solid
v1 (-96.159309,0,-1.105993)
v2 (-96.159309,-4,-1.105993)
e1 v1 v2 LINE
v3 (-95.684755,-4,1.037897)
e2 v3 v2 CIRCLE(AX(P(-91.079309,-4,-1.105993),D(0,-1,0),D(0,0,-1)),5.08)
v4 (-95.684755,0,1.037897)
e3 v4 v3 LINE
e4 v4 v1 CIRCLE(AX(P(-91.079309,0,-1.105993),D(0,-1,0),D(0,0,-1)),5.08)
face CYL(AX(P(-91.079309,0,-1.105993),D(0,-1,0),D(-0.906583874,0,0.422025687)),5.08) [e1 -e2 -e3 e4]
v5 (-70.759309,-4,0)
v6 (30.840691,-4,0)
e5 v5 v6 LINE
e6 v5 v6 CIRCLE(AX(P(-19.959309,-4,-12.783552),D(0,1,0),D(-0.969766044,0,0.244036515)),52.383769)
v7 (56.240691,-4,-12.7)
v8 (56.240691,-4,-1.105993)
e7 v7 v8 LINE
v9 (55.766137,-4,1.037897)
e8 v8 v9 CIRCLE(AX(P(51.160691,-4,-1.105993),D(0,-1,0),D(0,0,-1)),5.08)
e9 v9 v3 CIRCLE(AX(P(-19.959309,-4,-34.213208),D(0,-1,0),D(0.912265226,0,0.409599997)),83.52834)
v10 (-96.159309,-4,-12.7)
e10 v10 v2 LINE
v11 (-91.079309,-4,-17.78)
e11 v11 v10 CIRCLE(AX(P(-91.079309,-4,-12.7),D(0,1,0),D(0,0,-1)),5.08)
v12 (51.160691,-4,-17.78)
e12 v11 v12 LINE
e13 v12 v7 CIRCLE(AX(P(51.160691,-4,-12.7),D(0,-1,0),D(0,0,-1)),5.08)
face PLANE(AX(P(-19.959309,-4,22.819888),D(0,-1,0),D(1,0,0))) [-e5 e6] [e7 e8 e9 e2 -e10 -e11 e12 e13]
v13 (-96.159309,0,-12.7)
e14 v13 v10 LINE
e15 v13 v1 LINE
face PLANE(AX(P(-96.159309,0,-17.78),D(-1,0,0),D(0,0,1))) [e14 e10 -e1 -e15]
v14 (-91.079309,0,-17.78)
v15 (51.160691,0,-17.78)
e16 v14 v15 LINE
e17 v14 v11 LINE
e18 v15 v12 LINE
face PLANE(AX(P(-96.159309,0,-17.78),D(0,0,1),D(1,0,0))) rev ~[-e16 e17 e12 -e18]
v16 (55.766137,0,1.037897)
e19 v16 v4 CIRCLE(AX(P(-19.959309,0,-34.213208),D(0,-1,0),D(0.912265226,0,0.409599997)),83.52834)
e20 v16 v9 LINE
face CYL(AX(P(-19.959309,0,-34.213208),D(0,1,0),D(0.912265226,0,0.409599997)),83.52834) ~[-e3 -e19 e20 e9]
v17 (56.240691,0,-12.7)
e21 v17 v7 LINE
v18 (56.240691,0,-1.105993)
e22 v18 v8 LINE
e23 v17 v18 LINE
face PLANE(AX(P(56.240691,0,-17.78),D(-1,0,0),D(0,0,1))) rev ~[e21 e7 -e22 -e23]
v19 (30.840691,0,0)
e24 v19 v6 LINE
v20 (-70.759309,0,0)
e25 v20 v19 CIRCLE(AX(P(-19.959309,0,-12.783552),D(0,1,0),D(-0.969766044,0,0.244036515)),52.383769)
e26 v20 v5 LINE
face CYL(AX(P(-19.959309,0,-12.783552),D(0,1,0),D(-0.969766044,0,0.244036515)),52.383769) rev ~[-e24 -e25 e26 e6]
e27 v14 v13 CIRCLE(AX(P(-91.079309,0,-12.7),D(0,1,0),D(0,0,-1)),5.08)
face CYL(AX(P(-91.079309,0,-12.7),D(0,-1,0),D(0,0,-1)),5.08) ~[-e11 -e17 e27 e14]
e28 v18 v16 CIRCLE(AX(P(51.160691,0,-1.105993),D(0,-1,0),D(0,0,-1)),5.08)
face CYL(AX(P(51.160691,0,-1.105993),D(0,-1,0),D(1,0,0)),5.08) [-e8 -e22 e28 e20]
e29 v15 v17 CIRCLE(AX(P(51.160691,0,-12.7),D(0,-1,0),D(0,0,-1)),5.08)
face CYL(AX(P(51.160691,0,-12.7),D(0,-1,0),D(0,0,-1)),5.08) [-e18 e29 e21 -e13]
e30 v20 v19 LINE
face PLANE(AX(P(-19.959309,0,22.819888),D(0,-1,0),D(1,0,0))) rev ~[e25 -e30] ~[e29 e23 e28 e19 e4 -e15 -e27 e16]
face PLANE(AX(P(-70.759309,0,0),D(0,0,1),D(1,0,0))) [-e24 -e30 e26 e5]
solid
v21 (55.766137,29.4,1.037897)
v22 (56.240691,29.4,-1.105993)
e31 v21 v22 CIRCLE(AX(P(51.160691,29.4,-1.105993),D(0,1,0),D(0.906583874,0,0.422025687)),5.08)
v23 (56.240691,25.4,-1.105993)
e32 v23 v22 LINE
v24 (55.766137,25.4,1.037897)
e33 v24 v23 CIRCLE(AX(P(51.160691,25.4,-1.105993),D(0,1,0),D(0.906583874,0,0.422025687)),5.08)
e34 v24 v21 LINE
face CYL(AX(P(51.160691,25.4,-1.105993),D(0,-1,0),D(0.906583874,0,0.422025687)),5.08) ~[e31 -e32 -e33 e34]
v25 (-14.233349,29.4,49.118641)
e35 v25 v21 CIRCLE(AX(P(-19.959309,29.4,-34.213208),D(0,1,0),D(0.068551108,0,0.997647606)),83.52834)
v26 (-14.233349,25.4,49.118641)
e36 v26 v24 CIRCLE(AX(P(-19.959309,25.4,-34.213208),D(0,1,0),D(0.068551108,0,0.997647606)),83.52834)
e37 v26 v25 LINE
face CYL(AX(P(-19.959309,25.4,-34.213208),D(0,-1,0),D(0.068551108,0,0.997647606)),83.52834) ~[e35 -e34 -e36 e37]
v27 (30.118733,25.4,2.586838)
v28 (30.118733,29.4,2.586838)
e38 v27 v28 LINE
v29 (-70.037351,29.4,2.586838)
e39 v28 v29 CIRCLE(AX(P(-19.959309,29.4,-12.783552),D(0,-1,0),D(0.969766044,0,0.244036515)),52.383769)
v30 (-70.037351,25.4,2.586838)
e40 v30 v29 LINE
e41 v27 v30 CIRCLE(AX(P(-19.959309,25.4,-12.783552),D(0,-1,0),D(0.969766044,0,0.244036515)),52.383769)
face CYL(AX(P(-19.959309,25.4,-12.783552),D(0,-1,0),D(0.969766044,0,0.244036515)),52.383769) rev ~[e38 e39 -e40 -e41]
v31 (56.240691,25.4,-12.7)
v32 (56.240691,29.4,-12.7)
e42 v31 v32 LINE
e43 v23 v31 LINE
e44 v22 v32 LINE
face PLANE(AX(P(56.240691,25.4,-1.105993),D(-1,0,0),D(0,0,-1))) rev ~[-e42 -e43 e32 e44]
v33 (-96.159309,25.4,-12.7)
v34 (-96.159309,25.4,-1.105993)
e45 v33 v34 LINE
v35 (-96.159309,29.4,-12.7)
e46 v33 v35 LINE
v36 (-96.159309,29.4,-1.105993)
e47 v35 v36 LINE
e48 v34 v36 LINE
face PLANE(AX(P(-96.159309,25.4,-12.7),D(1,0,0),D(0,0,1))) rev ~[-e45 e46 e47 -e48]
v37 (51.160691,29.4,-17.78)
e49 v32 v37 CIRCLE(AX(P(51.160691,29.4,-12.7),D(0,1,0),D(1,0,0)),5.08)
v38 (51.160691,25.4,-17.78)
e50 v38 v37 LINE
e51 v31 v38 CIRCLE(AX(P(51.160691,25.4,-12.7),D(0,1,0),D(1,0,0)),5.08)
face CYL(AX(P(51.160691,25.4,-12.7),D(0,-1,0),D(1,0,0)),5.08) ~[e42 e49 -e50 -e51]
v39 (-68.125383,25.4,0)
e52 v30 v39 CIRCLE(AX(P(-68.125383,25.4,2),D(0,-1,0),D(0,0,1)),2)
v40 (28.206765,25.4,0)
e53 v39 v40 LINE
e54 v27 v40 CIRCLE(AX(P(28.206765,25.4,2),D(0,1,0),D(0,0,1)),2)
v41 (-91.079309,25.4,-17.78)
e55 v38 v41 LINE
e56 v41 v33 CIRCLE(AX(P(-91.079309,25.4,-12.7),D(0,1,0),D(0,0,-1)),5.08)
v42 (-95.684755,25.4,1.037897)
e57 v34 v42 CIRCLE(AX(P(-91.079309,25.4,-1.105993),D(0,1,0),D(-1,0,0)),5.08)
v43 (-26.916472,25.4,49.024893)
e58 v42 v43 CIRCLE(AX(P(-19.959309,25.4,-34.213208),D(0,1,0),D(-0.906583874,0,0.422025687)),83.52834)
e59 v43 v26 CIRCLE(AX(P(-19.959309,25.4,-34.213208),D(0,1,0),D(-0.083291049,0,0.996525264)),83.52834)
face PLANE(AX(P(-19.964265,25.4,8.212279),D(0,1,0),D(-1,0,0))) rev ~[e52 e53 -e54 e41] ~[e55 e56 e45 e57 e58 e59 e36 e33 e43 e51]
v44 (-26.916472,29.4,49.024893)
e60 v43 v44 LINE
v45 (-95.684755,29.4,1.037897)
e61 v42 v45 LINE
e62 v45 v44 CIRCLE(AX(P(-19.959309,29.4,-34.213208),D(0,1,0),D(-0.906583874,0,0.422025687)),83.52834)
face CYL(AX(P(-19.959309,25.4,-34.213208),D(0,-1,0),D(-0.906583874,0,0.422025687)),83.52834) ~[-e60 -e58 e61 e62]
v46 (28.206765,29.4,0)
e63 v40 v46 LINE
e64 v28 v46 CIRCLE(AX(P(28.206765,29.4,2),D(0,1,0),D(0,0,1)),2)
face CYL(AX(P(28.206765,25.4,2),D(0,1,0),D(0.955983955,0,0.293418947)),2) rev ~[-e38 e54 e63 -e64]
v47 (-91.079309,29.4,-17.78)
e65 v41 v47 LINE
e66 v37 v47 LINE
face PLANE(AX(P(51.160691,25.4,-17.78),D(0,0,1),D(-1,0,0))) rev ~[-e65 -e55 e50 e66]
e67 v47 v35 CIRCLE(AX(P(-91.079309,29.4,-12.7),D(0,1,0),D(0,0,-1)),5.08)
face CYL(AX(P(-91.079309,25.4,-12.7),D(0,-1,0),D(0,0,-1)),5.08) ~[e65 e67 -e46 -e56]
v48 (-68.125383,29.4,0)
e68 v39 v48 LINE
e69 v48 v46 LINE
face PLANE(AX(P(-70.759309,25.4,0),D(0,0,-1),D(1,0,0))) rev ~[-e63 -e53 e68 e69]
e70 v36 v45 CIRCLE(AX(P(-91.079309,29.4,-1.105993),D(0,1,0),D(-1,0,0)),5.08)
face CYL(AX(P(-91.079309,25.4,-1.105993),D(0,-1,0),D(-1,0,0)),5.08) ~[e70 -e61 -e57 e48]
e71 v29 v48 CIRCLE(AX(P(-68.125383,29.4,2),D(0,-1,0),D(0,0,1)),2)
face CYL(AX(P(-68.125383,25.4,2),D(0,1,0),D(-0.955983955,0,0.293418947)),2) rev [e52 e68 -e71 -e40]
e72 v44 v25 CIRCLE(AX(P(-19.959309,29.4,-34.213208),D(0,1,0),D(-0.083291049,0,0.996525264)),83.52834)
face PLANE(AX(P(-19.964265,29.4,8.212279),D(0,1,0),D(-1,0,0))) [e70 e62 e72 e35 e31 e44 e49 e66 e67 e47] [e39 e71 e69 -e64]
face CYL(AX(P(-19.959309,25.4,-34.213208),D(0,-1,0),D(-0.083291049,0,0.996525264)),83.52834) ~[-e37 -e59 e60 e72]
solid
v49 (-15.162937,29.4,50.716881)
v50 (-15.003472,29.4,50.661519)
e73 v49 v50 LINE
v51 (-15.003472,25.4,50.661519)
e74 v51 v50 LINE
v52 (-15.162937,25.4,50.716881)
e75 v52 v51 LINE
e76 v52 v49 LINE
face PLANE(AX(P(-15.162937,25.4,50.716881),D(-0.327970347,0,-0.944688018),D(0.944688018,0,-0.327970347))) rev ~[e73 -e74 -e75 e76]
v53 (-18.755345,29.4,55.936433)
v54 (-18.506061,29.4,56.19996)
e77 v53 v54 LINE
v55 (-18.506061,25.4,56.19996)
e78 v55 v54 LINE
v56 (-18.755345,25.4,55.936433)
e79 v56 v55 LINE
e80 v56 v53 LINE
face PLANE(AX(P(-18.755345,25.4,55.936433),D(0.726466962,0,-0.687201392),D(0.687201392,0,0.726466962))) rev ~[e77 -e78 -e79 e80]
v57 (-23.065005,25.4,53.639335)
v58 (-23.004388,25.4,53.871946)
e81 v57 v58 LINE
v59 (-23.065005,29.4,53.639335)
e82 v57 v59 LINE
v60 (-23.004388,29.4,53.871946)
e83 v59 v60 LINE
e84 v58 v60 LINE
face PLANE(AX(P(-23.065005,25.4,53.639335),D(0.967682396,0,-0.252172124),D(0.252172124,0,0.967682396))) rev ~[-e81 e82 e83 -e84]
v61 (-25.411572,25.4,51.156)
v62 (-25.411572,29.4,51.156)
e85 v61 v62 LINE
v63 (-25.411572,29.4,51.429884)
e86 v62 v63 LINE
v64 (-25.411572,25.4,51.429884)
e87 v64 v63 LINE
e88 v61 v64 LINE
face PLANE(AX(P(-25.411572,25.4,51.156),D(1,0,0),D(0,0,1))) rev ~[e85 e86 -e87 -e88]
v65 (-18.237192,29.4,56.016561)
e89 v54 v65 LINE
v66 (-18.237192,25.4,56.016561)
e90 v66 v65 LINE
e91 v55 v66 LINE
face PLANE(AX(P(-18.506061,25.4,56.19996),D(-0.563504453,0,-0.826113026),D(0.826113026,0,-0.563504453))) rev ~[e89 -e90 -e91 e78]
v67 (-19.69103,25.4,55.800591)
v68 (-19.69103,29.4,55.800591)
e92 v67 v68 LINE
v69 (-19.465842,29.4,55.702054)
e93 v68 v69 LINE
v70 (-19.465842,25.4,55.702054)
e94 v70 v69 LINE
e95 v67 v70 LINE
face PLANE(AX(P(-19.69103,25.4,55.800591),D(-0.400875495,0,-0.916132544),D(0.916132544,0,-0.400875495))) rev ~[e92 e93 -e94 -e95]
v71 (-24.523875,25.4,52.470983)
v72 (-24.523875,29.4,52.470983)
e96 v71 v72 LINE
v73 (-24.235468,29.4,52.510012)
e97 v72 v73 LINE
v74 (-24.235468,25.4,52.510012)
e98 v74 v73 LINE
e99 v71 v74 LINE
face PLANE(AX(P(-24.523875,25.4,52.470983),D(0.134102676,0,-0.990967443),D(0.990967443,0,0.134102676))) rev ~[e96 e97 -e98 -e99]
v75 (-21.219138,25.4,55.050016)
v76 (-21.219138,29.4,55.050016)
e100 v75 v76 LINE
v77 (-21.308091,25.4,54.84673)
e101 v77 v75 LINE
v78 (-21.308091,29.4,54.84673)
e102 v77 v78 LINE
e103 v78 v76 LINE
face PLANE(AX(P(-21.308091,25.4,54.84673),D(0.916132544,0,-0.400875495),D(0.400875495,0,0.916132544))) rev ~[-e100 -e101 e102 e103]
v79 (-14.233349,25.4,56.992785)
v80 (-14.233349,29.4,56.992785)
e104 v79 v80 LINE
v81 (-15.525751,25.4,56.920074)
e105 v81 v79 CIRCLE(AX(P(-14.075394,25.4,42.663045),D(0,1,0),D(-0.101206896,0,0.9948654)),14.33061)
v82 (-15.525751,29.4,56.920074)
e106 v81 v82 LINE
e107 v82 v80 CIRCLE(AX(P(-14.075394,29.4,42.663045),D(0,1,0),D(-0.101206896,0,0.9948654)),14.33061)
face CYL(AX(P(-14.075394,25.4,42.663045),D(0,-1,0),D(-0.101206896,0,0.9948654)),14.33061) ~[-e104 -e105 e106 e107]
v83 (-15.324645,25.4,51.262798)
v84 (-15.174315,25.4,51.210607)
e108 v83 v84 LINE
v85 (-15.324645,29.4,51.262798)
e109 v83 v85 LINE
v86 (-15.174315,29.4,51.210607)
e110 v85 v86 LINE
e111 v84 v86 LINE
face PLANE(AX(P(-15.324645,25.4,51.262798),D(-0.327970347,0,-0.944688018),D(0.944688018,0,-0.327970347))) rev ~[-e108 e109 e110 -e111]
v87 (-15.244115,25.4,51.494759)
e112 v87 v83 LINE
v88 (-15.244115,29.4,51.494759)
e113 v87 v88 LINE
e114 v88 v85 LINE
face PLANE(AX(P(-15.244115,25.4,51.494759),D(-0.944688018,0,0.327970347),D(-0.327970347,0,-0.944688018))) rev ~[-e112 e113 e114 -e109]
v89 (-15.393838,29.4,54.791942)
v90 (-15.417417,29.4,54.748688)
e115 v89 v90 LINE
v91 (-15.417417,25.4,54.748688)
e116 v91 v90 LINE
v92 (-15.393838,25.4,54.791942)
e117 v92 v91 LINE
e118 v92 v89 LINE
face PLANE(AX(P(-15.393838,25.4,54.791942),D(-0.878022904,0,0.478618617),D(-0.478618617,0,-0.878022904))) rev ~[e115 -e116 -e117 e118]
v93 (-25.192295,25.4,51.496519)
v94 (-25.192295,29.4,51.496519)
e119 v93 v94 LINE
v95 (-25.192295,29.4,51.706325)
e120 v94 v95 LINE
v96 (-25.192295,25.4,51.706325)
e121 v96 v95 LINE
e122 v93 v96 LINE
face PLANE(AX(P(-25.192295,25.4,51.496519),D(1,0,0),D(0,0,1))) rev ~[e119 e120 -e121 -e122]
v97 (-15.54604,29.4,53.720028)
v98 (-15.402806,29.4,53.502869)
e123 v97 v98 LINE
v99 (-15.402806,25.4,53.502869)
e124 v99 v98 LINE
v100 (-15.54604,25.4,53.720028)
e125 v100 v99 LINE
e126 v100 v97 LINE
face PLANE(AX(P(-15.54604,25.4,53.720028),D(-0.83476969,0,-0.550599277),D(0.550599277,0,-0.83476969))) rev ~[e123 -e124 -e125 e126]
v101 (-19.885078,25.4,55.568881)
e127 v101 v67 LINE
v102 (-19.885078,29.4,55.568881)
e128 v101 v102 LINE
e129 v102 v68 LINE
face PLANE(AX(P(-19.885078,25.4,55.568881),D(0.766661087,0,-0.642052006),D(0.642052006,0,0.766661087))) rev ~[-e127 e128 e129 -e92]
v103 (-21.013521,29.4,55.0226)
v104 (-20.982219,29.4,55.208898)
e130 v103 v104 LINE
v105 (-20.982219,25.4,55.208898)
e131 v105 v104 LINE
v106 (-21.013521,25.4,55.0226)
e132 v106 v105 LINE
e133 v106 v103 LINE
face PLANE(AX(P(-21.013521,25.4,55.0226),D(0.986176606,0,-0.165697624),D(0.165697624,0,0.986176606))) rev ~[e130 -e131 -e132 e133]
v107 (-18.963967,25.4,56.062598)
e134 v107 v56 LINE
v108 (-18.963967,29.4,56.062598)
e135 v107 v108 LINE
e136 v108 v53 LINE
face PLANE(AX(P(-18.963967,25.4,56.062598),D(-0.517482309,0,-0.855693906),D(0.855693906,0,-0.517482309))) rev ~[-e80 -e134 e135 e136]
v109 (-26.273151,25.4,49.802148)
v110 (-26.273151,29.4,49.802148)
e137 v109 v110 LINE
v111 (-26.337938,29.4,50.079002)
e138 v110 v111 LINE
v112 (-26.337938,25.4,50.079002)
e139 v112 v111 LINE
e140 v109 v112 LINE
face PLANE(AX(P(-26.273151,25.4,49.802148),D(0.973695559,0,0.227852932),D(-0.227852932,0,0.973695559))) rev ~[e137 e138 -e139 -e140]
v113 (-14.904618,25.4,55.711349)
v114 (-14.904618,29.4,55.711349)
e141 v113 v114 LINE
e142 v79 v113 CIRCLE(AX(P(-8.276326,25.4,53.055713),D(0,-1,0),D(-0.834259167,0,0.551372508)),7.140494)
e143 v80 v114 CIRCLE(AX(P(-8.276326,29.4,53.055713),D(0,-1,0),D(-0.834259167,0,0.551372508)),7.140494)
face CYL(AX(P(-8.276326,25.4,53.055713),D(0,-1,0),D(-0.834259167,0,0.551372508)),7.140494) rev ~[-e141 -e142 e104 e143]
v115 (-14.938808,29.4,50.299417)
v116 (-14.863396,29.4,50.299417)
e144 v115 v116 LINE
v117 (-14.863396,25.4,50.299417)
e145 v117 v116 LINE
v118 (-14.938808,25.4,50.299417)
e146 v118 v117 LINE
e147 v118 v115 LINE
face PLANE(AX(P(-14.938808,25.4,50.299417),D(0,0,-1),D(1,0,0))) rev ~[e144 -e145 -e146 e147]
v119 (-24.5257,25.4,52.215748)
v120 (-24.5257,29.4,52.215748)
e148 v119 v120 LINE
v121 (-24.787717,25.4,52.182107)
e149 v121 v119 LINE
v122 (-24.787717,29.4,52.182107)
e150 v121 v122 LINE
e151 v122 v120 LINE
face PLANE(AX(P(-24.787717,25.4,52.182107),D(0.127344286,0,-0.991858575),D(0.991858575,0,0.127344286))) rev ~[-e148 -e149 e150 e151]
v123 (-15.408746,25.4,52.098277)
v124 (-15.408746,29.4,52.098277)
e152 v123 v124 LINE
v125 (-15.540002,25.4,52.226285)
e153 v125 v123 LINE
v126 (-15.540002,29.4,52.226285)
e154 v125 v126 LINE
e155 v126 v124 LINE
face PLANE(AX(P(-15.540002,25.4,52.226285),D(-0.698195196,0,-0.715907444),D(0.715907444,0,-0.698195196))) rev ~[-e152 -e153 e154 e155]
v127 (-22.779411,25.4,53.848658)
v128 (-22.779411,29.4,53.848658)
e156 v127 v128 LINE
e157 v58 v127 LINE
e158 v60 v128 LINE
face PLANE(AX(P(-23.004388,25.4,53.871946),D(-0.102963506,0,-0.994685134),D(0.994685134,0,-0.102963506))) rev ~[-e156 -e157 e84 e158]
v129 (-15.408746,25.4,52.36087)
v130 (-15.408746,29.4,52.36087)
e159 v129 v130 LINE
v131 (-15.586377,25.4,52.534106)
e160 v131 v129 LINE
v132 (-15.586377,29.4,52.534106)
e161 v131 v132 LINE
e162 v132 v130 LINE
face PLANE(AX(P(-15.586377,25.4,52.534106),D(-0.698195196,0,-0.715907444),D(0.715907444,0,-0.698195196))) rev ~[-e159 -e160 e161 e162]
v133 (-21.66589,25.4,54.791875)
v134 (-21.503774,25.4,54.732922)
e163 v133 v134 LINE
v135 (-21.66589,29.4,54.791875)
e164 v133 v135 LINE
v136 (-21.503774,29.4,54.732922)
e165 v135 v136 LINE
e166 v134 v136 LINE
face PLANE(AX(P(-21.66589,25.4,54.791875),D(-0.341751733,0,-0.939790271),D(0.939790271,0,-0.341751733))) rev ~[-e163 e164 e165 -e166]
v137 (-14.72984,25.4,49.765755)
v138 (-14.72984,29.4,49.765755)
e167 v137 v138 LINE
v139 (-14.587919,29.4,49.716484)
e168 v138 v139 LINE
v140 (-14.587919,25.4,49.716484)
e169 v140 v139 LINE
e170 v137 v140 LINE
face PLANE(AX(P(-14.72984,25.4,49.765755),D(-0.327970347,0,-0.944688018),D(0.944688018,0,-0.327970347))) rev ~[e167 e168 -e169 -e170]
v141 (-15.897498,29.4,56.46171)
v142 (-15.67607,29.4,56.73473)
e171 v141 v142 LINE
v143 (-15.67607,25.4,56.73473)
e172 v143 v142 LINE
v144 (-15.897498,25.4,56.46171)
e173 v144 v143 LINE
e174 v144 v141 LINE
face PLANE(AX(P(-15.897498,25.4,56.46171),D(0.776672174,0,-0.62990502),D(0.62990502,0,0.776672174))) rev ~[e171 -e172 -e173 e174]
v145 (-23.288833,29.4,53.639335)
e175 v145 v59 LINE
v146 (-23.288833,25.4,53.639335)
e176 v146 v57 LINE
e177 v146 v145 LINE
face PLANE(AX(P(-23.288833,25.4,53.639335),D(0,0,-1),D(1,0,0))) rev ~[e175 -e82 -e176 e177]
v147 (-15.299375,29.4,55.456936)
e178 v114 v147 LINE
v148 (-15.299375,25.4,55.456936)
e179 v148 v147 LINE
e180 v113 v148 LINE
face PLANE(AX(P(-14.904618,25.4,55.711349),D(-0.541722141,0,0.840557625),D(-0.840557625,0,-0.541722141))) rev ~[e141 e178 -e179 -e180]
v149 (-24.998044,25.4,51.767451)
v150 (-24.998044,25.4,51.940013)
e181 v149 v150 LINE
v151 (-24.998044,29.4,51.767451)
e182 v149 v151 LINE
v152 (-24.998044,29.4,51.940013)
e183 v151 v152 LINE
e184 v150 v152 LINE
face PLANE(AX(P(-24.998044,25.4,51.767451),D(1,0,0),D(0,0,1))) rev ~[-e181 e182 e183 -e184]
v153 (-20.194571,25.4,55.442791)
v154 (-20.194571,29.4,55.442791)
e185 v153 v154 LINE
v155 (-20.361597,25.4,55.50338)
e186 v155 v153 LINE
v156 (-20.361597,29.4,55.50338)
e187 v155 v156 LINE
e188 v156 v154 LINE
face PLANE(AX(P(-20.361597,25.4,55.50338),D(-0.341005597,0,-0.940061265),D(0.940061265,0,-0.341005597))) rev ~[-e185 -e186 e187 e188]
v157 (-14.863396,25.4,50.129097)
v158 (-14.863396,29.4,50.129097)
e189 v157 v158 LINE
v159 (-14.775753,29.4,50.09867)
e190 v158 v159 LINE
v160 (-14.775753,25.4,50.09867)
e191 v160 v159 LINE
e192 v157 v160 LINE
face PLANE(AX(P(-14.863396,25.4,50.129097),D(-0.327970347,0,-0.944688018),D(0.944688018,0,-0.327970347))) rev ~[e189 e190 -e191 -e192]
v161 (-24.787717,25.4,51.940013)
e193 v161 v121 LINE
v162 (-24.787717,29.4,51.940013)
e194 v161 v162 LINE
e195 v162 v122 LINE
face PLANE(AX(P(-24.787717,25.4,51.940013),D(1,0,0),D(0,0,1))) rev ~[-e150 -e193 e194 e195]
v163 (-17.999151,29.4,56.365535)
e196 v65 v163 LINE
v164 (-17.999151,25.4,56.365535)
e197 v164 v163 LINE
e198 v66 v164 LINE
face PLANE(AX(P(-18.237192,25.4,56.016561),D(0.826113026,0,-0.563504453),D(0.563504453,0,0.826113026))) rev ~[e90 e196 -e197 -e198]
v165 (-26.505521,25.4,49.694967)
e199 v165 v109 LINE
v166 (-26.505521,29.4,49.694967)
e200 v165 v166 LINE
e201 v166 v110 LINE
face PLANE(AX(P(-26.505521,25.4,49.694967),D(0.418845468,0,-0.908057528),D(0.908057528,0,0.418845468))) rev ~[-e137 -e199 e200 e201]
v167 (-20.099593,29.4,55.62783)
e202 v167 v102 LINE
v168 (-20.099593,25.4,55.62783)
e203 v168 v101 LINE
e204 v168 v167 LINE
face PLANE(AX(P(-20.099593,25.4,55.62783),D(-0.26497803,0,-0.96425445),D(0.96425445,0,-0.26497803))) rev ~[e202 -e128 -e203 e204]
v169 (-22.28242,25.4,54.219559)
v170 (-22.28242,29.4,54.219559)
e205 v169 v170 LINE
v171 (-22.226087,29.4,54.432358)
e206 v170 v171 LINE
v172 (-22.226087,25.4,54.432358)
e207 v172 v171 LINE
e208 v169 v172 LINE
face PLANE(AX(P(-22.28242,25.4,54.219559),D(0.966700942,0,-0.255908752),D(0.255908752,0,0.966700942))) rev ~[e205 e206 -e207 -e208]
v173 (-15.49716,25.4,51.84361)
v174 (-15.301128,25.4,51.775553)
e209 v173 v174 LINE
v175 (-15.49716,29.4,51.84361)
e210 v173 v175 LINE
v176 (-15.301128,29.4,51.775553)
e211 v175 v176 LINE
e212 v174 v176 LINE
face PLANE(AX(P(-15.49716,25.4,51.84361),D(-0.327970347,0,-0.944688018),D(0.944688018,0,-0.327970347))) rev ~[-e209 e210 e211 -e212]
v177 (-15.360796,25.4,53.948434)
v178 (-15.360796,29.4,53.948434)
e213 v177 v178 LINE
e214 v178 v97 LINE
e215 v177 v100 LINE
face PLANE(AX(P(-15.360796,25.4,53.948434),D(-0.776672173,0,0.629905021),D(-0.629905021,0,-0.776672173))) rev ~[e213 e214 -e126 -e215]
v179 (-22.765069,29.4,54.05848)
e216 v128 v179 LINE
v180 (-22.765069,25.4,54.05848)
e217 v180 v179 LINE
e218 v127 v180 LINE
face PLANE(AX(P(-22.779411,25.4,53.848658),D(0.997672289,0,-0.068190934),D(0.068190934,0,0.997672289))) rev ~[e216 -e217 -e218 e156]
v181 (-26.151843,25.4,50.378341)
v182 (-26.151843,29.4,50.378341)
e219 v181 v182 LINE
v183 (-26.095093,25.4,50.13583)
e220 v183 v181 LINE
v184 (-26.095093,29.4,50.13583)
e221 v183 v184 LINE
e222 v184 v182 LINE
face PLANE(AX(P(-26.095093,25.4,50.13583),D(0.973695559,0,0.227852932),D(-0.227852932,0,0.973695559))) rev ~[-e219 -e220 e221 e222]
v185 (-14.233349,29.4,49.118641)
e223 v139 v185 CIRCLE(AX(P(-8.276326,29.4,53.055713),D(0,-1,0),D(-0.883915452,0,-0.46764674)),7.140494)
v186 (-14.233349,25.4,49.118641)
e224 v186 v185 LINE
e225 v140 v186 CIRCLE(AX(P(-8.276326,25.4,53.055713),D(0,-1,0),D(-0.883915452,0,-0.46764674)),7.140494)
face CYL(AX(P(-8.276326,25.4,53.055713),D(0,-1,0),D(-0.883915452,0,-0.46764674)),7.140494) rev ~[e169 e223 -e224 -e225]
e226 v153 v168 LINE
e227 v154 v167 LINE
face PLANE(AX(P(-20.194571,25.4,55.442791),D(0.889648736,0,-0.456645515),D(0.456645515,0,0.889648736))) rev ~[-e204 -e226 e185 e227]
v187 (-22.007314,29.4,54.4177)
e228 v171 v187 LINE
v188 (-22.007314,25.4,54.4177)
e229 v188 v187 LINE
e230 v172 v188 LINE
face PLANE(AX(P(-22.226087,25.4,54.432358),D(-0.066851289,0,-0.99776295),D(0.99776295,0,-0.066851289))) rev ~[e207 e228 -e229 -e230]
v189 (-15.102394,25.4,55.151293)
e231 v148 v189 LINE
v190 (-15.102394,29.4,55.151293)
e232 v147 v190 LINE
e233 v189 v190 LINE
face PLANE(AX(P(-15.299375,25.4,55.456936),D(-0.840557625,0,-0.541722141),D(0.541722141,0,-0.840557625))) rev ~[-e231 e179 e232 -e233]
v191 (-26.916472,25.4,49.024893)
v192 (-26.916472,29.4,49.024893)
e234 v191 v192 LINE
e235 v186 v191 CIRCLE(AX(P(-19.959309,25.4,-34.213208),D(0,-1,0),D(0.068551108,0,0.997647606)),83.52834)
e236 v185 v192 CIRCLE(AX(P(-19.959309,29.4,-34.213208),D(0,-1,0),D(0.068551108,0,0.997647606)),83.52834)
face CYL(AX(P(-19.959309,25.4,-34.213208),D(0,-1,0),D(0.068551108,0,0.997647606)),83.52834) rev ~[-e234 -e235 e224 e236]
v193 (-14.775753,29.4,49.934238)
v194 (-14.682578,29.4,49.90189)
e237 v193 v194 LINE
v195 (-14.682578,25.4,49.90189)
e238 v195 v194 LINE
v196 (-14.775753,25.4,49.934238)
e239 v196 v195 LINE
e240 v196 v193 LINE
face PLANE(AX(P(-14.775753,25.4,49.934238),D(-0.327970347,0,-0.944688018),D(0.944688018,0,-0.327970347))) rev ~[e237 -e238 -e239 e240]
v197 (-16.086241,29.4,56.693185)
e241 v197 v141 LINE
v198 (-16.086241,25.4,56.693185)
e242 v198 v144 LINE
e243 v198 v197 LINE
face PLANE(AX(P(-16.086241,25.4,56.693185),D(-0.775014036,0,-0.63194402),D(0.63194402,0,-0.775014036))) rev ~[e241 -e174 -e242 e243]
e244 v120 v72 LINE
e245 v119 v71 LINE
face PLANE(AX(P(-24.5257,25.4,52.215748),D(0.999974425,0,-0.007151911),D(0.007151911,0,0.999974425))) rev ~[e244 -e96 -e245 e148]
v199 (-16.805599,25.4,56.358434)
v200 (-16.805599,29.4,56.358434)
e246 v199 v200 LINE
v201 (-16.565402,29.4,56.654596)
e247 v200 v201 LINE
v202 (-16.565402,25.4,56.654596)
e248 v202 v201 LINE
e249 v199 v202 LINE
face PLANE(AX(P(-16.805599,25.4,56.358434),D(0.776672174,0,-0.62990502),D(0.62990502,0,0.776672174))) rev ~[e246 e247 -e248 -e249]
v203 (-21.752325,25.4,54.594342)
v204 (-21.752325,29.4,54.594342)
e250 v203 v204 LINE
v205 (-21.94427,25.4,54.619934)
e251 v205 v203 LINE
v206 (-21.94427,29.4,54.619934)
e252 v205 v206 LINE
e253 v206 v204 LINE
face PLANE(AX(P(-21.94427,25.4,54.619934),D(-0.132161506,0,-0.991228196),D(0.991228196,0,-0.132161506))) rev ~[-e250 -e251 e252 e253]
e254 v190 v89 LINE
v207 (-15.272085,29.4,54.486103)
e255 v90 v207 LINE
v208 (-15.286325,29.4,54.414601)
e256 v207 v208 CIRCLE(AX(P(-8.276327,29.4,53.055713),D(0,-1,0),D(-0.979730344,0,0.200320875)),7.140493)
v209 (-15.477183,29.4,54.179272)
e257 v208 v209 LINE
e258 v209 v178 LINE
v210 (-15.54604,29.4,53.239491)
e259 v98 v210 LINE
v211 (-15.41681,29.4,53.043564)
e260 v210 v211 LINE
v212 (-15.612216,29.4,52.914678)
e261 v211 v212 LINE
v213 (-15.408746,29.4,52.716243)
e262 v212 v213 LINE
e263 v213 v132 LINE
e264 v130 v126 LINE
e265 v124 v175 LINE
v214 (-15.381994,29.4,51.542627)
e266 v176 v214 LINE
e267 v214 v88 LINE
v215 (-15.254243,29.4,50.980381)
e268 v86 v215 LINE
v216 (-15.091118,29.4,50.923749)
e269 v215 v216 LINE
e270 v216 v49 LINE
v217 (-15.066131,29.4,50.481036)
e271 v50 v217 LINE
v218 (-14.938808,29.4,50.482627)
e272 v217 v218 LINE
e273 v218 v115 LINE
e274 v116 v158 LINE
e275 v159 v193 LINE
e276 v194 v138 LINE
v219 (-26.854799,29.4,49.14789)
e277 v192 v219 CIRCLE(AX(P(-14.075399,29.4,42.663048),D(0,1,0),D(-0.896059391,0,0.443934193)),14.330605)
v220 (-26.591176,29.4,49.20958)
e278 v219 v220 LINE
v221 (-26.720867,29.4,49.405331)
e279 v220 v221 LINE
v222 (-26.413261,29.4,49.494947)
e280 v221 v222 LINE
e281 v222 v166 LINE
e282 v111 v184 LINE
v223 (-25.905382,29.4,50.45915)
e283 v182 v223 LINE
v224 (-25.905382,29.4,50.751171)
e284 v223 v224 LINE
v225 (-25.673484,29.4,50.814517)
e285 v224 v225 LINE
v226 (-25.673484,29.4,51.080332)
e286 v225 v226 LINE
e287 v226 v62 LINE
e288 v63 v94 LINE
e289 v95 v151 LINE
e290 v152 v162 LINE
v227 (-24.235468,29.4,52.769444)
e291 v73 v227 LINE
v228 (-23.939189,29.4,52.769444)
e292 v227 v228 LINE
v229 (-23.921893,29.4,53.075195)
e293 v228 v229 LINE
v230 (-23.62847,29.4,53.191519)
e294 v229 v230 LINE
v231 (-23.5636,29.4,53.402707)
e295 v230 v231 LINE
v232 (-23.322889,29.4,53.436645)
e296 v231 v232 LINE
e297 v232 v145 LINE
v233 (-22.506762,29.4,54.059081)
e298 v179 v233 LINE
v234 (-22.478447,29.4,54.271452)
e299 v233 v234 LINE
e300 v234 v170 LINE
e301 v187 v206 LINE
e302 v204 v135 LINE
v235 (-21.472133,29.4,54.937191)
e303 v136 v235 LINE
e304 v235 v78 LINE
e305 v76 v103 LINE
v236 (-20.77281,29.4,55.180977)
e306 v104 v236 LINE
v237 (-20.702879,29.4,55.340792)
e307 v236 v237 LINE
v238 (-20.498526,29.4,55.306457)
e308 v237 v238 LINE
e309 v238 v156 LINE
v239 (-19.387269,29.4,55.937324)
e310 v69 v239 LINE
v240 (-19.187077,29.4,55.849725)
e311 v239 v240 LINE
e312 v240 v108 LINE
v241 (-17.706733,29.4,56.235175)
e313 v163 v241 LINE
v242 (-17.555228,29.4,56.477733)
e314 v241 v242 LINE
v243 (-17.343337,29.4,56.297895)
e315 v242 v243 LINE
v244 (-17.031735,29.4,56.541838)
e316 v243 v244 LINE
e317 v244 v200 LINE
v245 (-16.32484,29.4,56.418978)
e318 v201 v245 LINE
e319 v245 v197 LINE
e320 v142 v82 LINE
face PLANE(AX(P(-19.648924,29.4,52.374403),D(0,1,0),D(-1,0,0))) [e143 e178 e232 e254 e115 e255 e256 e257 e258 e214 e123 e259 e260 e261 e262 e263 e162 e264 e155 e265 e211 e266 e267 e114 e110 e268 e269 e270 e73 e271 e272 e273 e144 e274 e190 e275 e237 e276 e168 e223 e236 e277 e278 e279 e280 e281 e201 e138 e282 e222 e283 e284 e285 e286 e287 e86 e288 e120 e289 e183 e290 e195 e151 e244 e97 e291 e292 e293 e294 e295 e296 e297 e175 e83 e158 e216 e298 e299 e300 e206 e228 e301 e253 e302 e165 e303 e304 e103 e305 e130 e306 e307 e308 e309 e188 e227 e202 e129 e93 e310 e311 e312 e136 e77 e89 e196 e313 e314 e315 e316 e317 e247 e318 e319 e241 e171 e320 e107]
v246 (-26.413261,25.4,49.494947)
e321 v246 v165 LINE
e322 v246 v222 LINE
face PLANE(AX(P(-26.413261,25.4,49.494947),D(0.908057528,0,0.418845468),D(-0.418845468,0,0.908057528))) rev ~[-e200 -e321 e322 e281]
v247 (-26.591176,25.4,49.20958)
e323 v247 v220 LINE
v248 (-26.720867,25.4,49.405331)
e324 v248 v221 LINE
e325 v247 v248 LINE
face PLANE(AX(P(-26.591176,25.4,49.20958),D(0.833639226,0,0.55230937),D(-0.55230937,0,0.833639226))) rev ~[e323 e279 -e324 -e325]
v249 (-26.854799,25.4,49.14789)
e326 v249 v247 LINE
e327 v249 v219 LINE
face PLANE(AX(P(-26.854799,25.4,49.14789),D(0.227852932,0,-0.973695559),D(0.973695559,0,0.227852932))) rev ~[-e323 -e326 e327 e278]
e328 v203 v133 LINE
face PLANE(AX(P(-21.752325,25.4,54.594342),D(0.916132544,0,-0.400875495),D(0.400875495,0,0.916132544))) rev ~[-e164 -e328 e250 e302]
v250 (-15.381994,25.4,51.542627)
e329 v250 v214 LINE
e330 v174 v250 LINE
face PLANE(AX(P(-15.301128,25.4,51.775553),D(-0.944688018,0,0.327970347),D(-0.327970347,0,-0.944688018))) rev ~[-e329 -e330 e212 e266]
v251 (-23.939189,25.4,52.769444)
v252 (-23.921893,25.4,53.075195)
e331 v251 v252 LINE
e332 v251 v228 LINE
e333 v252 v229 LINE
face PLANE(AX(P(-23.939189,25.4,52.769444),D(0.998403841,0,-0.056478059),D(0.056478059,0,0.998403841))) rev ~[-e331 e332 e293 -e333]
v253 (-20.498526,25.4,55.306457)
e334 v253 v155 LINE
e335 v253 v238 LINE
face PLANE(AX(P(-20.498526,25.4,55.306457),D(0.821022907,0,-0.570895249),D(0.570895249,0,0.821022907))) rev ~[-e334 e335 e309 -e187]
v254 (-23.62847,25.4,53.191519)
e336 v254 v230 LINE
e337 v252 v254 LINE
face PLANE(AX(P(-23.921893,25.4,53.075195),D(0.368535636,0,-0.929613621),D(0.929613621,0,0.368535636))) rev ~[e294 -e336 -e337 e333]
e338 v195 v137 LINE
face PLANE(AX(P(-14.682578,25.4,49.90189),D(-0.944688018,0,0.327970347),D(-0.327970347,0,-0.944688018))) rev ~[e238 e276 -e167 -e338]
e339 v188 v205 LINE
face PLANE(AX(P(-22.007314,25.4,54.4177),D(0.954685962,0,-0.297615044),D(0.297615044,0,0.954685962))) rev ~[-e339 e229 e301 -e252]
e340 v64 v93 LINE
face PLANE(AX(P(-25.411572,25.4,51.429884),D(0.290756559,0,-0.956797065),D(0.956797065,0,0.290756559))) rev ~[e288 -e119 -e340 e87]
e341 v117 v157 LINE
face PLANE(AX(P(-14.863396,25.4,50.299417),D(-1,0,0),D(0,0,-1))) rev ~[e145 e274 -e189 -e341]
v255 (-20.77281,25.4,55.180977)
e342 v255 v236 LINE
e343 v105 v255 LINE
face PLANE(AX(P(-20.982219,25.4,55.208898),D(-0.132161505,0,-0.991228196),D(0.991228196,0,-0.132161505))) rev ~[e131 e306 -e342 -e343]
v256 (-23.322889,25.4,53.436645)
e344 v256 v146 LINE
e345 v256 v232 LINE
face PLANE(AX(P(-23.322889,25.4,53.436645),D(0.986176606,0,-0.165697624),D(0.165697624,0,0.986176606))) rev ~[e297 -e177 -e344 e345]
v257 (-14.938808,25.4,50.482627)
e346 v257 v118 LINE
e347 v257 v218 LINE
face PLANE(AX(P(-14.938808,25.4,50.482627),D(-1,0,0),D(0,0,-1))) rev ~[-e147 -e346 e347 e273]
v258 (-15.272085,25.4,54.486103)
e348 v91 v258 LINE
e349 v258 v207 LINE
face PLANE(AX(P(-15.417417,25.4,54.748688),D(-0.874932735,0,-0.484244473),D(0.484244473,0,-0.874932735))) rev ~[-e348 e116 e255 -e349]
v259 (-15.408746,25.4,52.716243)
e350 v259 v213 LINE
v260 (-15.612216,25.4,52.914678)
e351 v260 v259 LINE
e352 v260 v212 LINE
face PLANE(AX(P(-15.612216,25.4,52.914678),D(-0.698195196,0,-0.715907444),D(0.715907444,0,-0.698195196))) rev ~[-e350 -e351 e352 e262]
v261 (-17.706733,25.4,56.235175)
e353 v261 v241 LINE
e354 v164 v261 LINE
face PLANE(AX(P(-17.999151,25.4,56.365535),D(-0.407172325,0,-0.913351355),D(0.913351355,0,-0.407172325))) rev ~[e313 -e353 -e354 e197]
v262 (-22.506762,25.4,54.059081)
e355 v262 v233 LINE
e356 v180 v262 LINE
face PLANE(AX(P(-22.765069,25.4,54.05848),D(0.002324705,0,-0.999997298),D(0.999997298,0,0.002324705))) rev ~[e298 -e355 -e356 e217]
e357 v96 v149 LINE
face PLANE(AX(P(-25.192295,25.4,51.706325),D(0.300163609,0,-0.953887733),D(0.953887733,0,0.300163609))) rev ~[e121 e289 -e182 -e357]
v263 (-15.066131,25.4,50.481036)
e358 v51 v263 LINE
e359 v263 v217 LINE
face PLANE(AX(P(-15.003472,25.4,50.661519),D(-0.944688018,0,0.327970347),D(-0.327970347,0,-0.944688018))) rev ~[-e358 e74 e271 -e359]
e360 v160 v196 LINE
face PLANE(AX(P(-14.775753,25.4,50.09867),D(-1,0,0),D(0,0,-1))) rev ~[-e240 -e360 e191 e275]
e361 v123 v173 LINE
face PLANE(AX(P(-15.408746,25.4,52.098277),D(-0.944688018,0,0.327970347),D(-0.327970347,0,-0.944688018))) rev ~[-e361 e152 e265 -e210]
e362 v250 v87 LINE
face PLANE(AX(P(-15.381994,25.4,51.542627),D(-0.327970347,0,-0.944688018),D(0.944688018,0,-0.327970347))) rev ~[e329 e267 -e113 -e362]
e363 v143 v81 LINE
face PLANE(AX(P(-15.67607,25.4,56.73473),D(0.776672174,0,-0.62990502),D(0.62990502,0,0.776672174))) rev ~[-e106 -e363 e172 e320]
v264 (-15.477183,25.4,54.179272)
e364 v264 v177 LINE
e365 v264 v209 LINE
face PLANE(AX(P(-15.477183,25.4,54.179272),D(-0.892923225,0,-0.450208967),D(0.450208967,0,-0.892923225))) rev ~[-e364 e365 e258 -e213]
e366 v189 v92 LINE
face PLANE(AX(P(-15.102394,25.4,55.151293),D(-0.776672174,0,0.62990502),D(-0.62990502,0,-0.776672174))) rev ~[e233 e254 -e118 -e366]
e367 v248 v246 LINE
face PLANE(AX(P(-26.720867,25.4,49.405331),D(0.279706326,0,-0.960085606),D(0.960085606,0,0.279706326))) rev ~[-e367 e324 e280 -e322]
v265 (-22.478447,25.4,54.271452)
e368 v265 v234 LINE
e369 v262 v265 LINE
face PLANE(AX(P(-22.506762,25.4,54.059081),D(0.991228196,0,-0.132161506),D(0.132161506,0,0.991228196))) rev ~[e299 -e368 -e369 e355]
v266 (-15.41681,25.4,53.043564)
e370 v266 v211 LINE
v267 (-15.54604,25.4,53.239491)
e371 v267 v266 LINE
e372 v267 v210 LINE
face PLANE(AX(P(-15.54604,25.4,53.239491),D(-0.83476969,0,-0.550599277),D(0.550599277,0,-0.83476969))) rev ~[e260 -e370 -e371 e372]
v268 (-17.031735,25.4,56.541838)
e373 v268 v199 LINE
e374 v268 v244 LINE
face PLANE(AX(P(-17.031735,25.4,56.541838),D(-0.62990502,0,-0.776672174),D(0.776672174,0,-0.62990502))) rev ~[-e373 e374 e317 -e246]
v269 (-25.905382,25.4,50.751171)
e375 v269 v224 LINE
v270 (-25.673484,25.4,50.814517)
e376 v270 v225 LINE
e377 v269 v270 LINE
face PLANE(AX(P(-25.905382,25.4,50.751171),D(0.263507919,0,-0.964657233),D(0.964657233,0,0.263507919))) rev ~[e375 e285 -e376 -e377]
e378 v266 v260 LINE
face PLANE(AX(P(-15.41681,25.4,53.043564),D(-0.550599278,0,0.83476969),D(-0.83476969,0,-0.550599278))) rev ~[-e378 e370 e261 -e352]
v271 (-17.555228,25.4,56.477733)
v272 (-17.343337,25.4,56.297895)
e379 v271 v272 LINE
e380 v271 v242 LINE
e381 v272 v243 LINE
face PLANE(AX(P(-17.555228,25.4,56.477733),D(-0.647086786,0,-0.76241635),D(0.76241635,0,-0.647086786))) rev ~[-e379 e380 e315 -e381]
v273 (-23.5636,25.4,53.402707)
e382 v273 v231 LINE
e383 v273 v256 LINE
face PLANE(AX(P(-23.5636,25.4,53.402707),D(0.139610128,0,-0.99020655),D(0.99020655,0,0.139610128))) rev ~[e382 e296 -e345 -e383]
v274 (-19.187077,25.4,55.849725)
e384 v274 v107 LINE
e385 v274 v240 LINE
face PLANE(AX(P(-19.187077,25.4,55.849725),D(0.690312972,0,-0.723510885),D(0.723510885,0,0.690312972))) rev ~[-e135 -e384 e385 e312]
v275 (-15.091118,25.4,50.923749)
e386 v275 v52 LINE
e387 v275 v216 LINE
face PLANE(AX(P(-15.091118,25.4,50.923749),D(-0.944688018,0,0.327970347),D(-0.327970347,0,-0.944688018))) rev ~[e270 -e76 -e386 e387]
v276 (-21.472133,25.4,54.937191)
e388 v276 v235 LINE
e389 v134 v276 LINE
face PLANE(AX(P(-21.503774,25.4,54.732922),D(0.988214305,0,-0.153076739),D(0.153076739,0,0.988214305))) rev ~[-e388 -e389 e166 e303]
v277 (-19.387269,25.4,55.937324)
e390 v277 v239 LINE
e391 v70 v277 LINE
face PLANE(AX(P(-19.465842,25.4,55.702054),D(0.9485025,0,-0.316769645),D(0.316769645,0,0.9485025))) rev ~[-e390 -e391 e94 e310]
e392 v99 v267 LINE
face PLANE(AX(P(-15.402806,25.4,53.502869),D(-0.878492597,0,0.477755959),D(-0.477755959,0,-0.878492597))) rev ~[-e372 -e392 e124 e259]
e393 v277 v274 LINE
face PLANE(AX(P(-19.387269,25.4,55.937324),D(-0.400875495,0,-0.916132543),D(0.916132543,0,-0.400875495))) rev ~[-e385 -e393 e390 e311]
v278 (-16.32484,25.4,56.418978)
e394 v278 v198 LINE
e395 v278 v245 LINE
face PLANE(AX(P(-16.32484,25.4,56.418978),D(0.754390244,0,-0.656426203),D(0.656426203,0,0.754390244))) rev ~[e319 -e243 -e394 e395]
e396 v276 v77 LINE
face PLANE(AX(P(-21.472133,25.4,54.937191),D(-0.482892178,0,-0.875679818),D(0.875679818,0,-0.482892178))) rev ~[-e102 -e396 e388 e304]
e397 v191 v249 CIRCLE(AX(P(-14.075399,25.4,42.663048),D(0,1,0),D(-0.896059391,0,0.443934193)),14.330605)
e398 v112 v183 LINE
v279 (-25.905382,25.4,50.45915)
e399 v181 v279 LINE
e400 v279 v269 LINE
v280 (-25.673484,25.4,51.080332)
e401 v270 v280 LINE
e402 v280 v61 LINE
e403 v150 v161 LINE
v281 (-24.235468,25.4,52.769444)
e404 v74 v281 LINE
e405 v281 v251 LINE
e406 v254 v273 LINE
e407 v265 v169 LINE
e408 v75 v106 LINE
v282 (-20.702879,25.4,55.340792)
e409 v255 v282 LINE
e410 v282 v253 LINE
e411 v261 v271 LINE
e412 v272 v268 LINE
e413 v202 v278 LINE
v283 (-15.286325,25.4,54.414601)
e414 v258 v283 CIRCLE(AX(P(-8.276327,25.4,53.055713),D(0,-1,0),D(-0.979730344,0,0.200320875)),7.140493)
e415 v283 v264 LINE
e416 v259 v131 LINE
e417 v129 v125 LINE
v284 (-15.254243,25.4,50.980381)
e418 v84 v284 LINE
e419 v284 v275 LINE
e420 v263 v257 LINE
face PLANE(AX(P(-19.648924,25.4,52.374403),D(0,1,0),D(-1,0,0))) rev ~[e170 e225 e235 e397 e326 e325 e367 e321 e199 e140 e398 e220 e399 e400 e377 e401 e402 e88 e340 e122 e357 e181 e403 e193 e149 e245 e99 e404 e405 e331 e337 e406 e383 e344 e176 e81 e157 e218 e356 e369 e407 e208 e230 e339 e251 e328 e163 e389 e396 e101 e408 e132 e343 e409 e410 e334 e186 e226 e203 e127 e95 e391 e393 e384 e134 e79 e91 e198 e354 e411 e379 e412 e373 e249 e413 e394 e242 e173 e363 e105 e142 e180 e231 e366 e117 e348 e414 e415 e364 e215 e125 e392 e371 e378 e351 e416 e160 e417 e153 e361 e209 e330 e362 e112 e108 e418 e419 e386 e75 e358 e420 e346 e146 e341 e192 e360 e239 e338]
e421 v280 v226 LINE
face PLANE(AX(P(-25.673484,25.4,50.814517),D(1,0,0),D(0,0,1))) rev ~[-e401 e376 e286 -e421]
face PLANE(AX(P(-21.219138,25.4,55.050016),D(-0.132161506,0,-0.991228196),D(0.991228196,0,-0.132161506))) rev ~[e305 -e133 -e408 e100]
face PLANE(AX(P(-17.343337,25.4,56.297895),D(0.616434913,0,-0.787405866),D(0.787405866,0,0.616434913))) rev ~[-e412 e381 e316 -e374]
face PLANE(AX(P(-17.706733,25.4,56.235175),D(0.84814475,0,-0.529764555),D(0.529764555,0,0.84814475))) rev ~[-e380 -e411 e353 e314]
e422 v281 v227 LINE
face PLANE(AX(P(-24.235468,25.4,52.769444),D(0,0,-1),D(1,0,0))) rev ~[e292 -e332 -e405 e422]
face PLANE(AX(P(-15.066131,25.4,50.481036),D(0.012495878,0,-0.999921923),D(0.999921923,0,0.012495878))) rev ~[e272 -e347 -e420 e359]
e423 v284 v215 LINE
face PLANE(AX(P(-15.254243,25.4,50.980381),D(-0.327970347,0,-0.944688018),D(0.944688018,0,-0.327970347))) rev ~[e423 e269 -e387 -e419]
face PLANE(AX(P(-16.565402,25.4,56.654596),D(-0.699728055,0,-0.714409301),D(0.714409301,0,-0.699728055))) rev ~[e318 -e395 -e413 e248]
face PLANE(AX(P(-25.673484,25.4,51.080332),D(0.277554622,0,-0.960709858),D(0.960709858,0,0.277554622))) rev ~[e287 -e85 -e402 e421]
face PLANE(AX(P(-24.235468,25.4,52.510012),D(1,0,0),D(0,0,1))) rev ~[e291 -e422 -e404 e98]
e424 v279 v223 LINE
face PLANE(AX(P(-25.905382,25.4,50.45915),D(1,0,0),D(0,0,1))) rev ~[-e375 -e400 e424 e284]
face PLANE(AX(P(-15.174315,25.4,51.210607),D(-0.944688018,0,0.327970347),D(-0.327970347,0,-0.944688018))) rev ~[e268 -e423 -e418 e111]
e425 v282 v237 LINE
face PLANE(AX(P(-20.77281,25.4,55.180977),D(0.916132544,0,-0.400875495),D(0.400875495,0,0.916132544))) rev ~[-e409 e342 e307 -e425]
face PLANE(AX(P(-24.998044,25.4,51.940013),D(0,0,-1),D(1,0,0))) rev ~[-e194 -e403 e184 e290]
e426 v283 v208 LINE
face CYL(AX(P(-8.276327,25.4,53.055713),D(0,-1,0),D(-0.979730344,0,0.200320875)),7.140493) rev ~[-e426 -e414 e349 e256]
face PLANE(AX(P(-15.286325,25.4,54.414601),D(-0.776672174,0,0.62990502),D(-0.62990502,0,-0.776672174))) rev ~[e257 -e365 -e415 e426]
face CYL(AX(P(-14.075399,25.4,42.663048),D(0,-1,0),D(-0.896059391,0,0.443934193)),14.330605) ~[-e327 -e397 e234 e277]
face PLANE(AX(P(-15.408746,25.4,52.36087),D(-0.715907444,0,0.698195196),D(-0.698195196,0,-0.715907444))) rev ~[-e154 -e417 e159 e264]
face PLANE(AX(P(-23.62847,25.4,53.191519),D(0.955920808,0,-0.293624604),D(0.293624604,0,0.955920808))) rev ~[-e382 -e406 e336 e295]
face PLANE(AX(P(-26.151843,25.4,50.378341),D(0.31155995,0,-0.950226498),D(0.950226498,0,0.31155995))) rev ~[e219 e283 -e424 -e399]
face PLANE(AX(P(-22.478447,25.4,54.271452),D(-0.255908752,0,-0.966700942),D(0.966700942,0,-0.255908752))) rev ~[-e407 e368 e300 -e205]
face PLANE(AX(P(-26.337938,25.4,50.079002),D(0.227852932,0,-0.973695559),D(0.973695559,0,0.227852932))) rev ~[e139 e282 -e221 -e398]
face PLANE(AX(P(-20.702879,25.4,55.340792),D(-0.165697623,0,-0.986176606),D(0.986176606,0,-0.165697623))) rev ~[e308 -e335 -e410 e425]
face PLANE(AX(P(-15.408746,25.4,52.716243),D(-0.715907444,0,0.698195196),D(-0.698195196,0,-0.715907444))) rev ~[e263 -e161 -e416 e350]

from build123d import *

# Parameters (mm, degrees)
F0_W     = 25.4
F0_H     = 17.78
F0_W_2   = 101.6
F1_DEPTH = 4
F2_R     = 5.08
F5_DEPTH = 4
F6_DEPTH = 4
F7_R     = 2


with BuildPart() as f1:
    # F0 (on Front) → F1 (new body)
    with BuildSketch(Plane.XZ):
        with BuildLine():
            Line((-96.1593091488, 0), (-70.7593091488, 0))
            ThreePointArc((-70.7593091488, 0), (-19.9593091488, 39.6002162648), (30.8406908512, 0))
            Line((30.8406908512, 0), (56.2406908512, 0))
            ThreePointArc((56.2406908512, 0), (-19.9593091488, 49.3151322007), (-96.1593091488, 0))
        make_face()
        with Locations((-83.4593091488, -8.89)):
            Rectangle(F0_W, F0_H)
        with Locations((-19.9593091488, -8.89)):
            Rectangle(F0_W_2, F0_H)
        with Locations((43.5406908512, -8.89)):
            Rectangle(F0_W, F0_H)
    extrude(amount=F1_DEPTH)

    # F2
    f2_edges = [f1.edges().sort_by_distance(p)[0] for p in [
        (-96.159309, -2, -17.78),
        (-96.159309, -2, 0),
        (56.240691, -2, 0),
        (56.240691, -2, -17.78),
    ]]
    fillet(f2_edges, radius=F2_R)


with BuildPart() as f5:
    # F4 (on offset) → F5 (new body)
    with BuildSketch(Plane(origin=(0, 25.4, 0), x_dir=(-1, 0, 0), z_dir=(0, 1, 0))):
        with BuildLine():
            ThreePointArc((14.2333489069, 49.1186406291), (-27.3325756719, 34.6377995621), (-55.7661369292, 1.0378972062))
            ThreePointArc((-55.7661369292, 1.0378972062), (-56.1206336975, -0.0081012275), (-56.2406908512, -1.1059932814))
            Line((-56.2406908512, -1.1059932814), (-56.2406908512, -12.7))
            ThreePointArc((-56.2406908512, -12.7), (-54.7527932996, -16.2921024484), (-51.1606908512, -17.78))
            Line((-51.1606908512, -17.78), (91.0793091488, -17.78))
            ThreePointArc((91.0793091488, -17.78), (94.6714115972, -16.2921024484), (96.1593091488, -12.7))
            Line((96.1593091488, -12.7), (96.1593091488, -1.1059932814))
            ThreePointArc((96.1593091488, -1.1059932814), (96.039251995, -0.0081012275), (95.6847552268, 1.0378972062))
            ThreePointArc((95.6847552268, 1.0378972062), (67.7588008858, 34.2863701139), (26.9164722002, 49.024893245))
            ThreePointArc((26.9164722002, 49.024893245), (20.5766925245, 49.3128505354), (14.2333489069, 49.1186406291))
        make_face()
        with BuildLine():
            Line((70.7593091488, 0), (-30.8406908512, 0))
            ThreePointArc((-30.8406908512, 0), (19.9593091488, 39.6002162648), (70.7593091488, 0))
        make_face(mode=Mode.SUBTRACT)
    extrude(amount=F5_DEPTH)

    # F7
    f7_edges = [f5.edges().sort_by_distance(p)[0] for p in [
        (30.840691, 27.4, 0),
        (-70.759309, 27.4, 0),
    ]]
    fillet(f7_edges, radius=F7_R)


with BuildPart() as f6:
    # F4 (on offset) → F6 (new body)
    with BuildSketch(Plane(origin=(0, 25.4, 0), x_dir=(-1, 0, 0), z_dir=(0, 1, 0))):
        with BuildLine():
            ThreePointArc((14.587919324, 49.7164839897), (14.4179129471, 49.4132453619), (14.2333489069, 49.1186406291))
            ThreePointArc((14.2333489069, 49.1186406291), (20.5766925245, 49.3128505354), (26.9164722002, 49.024893245))
            ThreePointArc((26.9164722002, 49.024893245), (26.8857831581, 49.08646559), (26.8547988816, 49.1478898978))
            Line((26.8547988816, 49.1478898978), (26.5911761671, 49.2095798254))
            Line((26.5911761671, 49.2095798254), (26.7208667986, 49.4053309815))
            Line((26.7208667986, 49.4053309815), (26.4132608323, 49.4949472972))
            Line((26.4132608323, 49.4949472972), (26.5055205673, 49.6949665248))
            Line((26.5055205673, 49.6949665248), (26.2731513655, 49.8021478255))
            Line((26.2731513655, 49.8021478255), (26.3379376774, 50.0790024769))
            Line((26.3379376774, 50.0790024769), (26.0950929247, 50.1358301871))
            Line((26.0950929247, 50.1358301871), (26.1518425157, 50.3783411094))
            Line((26.1518425157, 50.3783411094), (25.9053820797, 50.4591504757))
            Line((25.9053820797, 50.4591504757), (25.9053820797, 50.7511711684))
            Line((25.9053820797, 50.7511711684), (25.6734836565, 50.8145170583))
            Line((25.6734836565, 50.8145170583), (25.6734836565, 51.0803319296))
            Line((25.6734836565, 51.0803319296), (25.4115723416, 51.15599962))
            Line((25.4115723416, 51.15599962), (25.4115723416, 51.4298838594))
            Line((25.4115723416, 51.4298838594), (25.1922954826, 51.4965188726))
            Line((25.1922954826, 51.4965188726), (25.1922954826, 51.7063245174))
            Line((25.1922954826, 51.7063245174), (24.9980435381, 51.7674505416))
            Line((24.9980435381, 51.7674505416), (24.9980435381, 51.9400127204))
            Line((24.9980435381, 51.9400127204), (24.7877165675, 51.9400127204))
            Line((24.7877165675, 51.9400127204), (24.7877165675, 52.1821073611))
            Line((24.7877165675, 52.1821073611), (24.525700137, 52.2157475352))
            Line((24.525700137, 52.2157475352), (24.5238746665, 52.4709833554))
            Line((24.5238746665, 52.4709833554), (24.2354683578, 52.5100119412))
            Line((24.2354683578, 52.5100119412), (24.2354683578, 52.7694435698))
            Line((24.2354683578, 52.7694435698), (23.9391885698, 52.7694435698))
            Line((23.9391885698, 52.7694435698), (23.9218927202, 53.0751949188))
            Line((23.9218927202, 53.0751949188), (23.6284695566, 53.1915194753))
            Line((23.6284695566, 53.1915194753), (23.5636002435, 53.4027072483))
            Line((23.5636002435, 53.4027072483), (23.3228887181, 53.4366453867))
            Line((23.3228887181, 53.4366453867), (23.2888327005, 53.6393353656))
            Line((23.2888327005, 53.6393353656), (23.0650053006, 53.6393353656))
            Line((23.0650053006, 53.6393353656), (23.0043883839, 53.8719460216))
            Line((23.0043883839, 53.8719460216), (22.779410705, 53.848657757))
            Line((22.779410705, 53.848657757), (22.765069328, 54.0584802903))
            Line((22.765069328, 54.0584802903), (22.506762296, 54.0590807796))
            Line((22.506762296, 54.0590807796), (22.4784466394, 54.2714518254))
            Line((22.4784466394, 54.2714518254), (22.2824197263, 54.219558835))
            Line((22.2824197263, 54.219558835), (22.2260868329, 54.4323575793))
            Line((22.2260868329, 54.4323575793), (22.0073144883, 54.4176995754))
            Line((22.0073144883, 54.4176995754), (21.9442695379, 54.6199344099))
            Line((21.9442695379, 54.6199344099), (21.7523249884, 54.5943422397))
            Line((21.7523249884, 54.5943422397), (21.6658897698, 54.7918751836))
            Line((21.6658897698, 54.7918751836), (21.5037744492, 54.7329224646))
            Line((21.5037744492, 54.7329224646), (21.4721327832, 54.9371909063))
            Line((21.4721327832, 54.9371909063), (21.3080905378, 54.8467300832))
            Line((21.3080905378, 54.8467300832), (21.2191381366, 55.0500156185))
            Line((21.2191381366, 55.0500156185), (21.0135207493, 55.0226004344))
            Line((21.0135207493, 55.0226004344), (20.9822189555, 55.2088981982))
            Line((20.9822189555, 55.2088981982), (20.7728101002, 55.1809774937))
            Line((20.7728101002, 55.1809774937), (20.7028793185, 55.3407923631))
            Line((20.7028793185, 55.3407923631), (20.4985261605, 55.3064568978))
            Line((20.4985261605, 55.3064568978), (20.3615967184, 55.5033795536))
            Line((20.3615967184, 55.5033795536), (20.1945714653, 55.4427914321))
            Line((20.1945714653, 55.4427914321), (20.0995933264, 55.6278303266))
            Line((20.0995933264, 55.6278303266), (19.8850780725, 55.5688813329))
            Line((19.8850780725, 55.5688813329), (19.6910295635, 55.8005906641))
            Line((19.6910295635, 55.8005906641), (19.4658418426, 55.7020544428))
            Line((19.4658418426, 55.7020544428), (19.3872693926, 55.9373237193))
            Line((19.3872693926, 55.9373237193), (19.1870768637, 55.8497247362))
            Line((19.1870768637, 55.8497247362), (18.9639665186, 56.0625977814))
            Line((18.9639665186, 56.0625977814), (18.755344674, 55.9364333749))
            Line((18.755344674, 55.9364333749), (18.5060612857, 56.1999604106))
            Line((18.5060612857, 56.1999604106), (18.2371921837, 56.0165606439))
            Line((18.2371921837, 56.0165606439), (17.9991510693, 56.3655354645))
            Line((17.9991510693, 56.3655354645), (17.7067328214, 56.2351753163))
            Line((17.7067328214, 56.2351753163), (17.5552275032, 56.4777329564))
            Line((17.5552275032, 56.4777329564), (17.3433367163, 56.2978945673))
            Line((17.3433367163, 56.2978945673), (17.0317348093, 56.5418377519))
            Line((17.0317348093, 56.5418377519), (16.8055985123, 56.3584342599))
            Line((16.8055985123, 56.3584342599), (16.565402307, 56.6545959079))
            Line((16.565402307, 56.6545959079), (16.324840486, 56.4189776778))
            Line((16.324840486, 56.4189776778), (16.0862412304, 56.6931851208))
            Line((16.0862412304, 56.6931851208), (15.8974975348, 56.4617104828))
            Line((15.8974975348, 56.4617104828), (15.6760702867, 56.7347300278))
            Line((15.6760702867, 56.7347300278), (15.5257509735, 56.92007357))
            ThreePointArc((15.5257509735, 56.92007357), (14.8803713379, 56.9710291346), (14.2333489069, 56.9927849924))
            ThreePointArc((14.2333489069, 56.9927849924), (14.6015182552, 56.3691102132), (14.904617976, 55.7113492698))
            Line((14.904617976, 55.7113492698), (15.299375169, 55.4569363594))
            Line((15.299375169, 55.4569363594), (15.102394042, 55.1512926064))
            Line((15.102394042, 55.1512926064), (15.3938381916, 54.7919423014))
            Line((15.3938381916, 54.7919423014), (15.41741658, 54.7486878932))
            Line((15.41741658, 54.7486878932), (15.2720850005, 54.4861028494))
            ThreePointArc((15.2720850005, 54.4861028494), (15.2792961546, 54.4503699988), (15.2863247941, 54.4146008))
            Line((15.2863247941, 54.4146008), (15.4771834803, 54.179272257))
            Line((15.4771834803, 54.179272257), (15.3607955439, 53.9484339146))
            Line((15.3607955439, 53.9484339146), (15.5460399313, 53.7200277958))
            Line((15.5460399313, 53.7200277958), (15.4028055927, 53.5028686214))
            Line((15.4028055927, 53.5028686214), (15.5460399313, 53.2394908369))
            Line((15.5460399313, 53.2394908369), (15.4168100252, 53.0435639385))
            Line((15.4168100252, 53.0435639385), (15.6122156124, 52.9146778799))
            Line((15.6122156124, 52.9146778799), (15.4087463253, 52.7162426213))
            Line((15.4087463253, 52.7162426213), (15.5863766983, 52.5341060109))
            Line((15.5863766983, 52.5341060109), (15.4087463253, 52.3608703865))
            Line((15.4087463253, 52.3608703865), (15.5400016147, 52.2262853316))
            Line((15.5400016147, 52.2262853316), (15.4087463253, 52.0982774261))
            Line((15.4087463253, 52.0982774261), (15.4971601441, 51.8436096609))
            Line((15.4971601441, 51.8436096609), (15.3011284751, 51.7755527222))
            Line((15.3011284751, 51.7755527222), (15.3819940641, 51.5426269297))
            Line((15.3819940641, 51.5426269297), (15.2441149493, 51.4947589985))
            Line((15.2441149493, 51.4947589985), (15.3246454927, 51.2627982734))
            Line((15.3246454927, 51.2627982734), (15.1743145191, 51.2106073907))
            Line((15.1743145191, 51.2106073907), (15.2542428014, 50.9803814227))
            Line((15.2542428014, 50.9803814227), (15.0911179445, 50.9237488468))
            Line((15.0911179445, 50.9237488468), (15.1629368797, 50.7168810973))
            Line((15.1629368797, 50.7168810973), (15.0034722587, 50.6615192571))
            Line((15.0034722587, 50.6615192571), (15.0661312526, 50.4810358649))
            Line((15.0661312526, 50.4810358649), (14.9388080463, 50.4826270044))
            Line((14.9388080463, 50.4826270044), (14.9388080463, 50.2994172275))
            Line((14.9388080463, 50.2994172275), (14.8633962262, 50.2994172275))
            Line((14.8633962262, 50.2994172275), (14.8633962262, 50.1290969551))
            Line((14.8633962262, 50.1290969551), (14.7757533162, 50.098669687))
            Line((14.7757533162, 50.098669687), (14.7757533162, 49.9342381954))
            Line((14.7757533162, 49.9342381954), (14.6825777973, 49.9018901538))
            Line((14.6825777973, 49.9018901538), (14.7298402296, 49.7657551224))
            Line((14.7298402296, 49.7657551224), (14.587919324, 49.7164839897))
        make_face()
    extrude(amount=F6_DEPTH)


solid = Compound([f1.part, f5.part, f6.part])
